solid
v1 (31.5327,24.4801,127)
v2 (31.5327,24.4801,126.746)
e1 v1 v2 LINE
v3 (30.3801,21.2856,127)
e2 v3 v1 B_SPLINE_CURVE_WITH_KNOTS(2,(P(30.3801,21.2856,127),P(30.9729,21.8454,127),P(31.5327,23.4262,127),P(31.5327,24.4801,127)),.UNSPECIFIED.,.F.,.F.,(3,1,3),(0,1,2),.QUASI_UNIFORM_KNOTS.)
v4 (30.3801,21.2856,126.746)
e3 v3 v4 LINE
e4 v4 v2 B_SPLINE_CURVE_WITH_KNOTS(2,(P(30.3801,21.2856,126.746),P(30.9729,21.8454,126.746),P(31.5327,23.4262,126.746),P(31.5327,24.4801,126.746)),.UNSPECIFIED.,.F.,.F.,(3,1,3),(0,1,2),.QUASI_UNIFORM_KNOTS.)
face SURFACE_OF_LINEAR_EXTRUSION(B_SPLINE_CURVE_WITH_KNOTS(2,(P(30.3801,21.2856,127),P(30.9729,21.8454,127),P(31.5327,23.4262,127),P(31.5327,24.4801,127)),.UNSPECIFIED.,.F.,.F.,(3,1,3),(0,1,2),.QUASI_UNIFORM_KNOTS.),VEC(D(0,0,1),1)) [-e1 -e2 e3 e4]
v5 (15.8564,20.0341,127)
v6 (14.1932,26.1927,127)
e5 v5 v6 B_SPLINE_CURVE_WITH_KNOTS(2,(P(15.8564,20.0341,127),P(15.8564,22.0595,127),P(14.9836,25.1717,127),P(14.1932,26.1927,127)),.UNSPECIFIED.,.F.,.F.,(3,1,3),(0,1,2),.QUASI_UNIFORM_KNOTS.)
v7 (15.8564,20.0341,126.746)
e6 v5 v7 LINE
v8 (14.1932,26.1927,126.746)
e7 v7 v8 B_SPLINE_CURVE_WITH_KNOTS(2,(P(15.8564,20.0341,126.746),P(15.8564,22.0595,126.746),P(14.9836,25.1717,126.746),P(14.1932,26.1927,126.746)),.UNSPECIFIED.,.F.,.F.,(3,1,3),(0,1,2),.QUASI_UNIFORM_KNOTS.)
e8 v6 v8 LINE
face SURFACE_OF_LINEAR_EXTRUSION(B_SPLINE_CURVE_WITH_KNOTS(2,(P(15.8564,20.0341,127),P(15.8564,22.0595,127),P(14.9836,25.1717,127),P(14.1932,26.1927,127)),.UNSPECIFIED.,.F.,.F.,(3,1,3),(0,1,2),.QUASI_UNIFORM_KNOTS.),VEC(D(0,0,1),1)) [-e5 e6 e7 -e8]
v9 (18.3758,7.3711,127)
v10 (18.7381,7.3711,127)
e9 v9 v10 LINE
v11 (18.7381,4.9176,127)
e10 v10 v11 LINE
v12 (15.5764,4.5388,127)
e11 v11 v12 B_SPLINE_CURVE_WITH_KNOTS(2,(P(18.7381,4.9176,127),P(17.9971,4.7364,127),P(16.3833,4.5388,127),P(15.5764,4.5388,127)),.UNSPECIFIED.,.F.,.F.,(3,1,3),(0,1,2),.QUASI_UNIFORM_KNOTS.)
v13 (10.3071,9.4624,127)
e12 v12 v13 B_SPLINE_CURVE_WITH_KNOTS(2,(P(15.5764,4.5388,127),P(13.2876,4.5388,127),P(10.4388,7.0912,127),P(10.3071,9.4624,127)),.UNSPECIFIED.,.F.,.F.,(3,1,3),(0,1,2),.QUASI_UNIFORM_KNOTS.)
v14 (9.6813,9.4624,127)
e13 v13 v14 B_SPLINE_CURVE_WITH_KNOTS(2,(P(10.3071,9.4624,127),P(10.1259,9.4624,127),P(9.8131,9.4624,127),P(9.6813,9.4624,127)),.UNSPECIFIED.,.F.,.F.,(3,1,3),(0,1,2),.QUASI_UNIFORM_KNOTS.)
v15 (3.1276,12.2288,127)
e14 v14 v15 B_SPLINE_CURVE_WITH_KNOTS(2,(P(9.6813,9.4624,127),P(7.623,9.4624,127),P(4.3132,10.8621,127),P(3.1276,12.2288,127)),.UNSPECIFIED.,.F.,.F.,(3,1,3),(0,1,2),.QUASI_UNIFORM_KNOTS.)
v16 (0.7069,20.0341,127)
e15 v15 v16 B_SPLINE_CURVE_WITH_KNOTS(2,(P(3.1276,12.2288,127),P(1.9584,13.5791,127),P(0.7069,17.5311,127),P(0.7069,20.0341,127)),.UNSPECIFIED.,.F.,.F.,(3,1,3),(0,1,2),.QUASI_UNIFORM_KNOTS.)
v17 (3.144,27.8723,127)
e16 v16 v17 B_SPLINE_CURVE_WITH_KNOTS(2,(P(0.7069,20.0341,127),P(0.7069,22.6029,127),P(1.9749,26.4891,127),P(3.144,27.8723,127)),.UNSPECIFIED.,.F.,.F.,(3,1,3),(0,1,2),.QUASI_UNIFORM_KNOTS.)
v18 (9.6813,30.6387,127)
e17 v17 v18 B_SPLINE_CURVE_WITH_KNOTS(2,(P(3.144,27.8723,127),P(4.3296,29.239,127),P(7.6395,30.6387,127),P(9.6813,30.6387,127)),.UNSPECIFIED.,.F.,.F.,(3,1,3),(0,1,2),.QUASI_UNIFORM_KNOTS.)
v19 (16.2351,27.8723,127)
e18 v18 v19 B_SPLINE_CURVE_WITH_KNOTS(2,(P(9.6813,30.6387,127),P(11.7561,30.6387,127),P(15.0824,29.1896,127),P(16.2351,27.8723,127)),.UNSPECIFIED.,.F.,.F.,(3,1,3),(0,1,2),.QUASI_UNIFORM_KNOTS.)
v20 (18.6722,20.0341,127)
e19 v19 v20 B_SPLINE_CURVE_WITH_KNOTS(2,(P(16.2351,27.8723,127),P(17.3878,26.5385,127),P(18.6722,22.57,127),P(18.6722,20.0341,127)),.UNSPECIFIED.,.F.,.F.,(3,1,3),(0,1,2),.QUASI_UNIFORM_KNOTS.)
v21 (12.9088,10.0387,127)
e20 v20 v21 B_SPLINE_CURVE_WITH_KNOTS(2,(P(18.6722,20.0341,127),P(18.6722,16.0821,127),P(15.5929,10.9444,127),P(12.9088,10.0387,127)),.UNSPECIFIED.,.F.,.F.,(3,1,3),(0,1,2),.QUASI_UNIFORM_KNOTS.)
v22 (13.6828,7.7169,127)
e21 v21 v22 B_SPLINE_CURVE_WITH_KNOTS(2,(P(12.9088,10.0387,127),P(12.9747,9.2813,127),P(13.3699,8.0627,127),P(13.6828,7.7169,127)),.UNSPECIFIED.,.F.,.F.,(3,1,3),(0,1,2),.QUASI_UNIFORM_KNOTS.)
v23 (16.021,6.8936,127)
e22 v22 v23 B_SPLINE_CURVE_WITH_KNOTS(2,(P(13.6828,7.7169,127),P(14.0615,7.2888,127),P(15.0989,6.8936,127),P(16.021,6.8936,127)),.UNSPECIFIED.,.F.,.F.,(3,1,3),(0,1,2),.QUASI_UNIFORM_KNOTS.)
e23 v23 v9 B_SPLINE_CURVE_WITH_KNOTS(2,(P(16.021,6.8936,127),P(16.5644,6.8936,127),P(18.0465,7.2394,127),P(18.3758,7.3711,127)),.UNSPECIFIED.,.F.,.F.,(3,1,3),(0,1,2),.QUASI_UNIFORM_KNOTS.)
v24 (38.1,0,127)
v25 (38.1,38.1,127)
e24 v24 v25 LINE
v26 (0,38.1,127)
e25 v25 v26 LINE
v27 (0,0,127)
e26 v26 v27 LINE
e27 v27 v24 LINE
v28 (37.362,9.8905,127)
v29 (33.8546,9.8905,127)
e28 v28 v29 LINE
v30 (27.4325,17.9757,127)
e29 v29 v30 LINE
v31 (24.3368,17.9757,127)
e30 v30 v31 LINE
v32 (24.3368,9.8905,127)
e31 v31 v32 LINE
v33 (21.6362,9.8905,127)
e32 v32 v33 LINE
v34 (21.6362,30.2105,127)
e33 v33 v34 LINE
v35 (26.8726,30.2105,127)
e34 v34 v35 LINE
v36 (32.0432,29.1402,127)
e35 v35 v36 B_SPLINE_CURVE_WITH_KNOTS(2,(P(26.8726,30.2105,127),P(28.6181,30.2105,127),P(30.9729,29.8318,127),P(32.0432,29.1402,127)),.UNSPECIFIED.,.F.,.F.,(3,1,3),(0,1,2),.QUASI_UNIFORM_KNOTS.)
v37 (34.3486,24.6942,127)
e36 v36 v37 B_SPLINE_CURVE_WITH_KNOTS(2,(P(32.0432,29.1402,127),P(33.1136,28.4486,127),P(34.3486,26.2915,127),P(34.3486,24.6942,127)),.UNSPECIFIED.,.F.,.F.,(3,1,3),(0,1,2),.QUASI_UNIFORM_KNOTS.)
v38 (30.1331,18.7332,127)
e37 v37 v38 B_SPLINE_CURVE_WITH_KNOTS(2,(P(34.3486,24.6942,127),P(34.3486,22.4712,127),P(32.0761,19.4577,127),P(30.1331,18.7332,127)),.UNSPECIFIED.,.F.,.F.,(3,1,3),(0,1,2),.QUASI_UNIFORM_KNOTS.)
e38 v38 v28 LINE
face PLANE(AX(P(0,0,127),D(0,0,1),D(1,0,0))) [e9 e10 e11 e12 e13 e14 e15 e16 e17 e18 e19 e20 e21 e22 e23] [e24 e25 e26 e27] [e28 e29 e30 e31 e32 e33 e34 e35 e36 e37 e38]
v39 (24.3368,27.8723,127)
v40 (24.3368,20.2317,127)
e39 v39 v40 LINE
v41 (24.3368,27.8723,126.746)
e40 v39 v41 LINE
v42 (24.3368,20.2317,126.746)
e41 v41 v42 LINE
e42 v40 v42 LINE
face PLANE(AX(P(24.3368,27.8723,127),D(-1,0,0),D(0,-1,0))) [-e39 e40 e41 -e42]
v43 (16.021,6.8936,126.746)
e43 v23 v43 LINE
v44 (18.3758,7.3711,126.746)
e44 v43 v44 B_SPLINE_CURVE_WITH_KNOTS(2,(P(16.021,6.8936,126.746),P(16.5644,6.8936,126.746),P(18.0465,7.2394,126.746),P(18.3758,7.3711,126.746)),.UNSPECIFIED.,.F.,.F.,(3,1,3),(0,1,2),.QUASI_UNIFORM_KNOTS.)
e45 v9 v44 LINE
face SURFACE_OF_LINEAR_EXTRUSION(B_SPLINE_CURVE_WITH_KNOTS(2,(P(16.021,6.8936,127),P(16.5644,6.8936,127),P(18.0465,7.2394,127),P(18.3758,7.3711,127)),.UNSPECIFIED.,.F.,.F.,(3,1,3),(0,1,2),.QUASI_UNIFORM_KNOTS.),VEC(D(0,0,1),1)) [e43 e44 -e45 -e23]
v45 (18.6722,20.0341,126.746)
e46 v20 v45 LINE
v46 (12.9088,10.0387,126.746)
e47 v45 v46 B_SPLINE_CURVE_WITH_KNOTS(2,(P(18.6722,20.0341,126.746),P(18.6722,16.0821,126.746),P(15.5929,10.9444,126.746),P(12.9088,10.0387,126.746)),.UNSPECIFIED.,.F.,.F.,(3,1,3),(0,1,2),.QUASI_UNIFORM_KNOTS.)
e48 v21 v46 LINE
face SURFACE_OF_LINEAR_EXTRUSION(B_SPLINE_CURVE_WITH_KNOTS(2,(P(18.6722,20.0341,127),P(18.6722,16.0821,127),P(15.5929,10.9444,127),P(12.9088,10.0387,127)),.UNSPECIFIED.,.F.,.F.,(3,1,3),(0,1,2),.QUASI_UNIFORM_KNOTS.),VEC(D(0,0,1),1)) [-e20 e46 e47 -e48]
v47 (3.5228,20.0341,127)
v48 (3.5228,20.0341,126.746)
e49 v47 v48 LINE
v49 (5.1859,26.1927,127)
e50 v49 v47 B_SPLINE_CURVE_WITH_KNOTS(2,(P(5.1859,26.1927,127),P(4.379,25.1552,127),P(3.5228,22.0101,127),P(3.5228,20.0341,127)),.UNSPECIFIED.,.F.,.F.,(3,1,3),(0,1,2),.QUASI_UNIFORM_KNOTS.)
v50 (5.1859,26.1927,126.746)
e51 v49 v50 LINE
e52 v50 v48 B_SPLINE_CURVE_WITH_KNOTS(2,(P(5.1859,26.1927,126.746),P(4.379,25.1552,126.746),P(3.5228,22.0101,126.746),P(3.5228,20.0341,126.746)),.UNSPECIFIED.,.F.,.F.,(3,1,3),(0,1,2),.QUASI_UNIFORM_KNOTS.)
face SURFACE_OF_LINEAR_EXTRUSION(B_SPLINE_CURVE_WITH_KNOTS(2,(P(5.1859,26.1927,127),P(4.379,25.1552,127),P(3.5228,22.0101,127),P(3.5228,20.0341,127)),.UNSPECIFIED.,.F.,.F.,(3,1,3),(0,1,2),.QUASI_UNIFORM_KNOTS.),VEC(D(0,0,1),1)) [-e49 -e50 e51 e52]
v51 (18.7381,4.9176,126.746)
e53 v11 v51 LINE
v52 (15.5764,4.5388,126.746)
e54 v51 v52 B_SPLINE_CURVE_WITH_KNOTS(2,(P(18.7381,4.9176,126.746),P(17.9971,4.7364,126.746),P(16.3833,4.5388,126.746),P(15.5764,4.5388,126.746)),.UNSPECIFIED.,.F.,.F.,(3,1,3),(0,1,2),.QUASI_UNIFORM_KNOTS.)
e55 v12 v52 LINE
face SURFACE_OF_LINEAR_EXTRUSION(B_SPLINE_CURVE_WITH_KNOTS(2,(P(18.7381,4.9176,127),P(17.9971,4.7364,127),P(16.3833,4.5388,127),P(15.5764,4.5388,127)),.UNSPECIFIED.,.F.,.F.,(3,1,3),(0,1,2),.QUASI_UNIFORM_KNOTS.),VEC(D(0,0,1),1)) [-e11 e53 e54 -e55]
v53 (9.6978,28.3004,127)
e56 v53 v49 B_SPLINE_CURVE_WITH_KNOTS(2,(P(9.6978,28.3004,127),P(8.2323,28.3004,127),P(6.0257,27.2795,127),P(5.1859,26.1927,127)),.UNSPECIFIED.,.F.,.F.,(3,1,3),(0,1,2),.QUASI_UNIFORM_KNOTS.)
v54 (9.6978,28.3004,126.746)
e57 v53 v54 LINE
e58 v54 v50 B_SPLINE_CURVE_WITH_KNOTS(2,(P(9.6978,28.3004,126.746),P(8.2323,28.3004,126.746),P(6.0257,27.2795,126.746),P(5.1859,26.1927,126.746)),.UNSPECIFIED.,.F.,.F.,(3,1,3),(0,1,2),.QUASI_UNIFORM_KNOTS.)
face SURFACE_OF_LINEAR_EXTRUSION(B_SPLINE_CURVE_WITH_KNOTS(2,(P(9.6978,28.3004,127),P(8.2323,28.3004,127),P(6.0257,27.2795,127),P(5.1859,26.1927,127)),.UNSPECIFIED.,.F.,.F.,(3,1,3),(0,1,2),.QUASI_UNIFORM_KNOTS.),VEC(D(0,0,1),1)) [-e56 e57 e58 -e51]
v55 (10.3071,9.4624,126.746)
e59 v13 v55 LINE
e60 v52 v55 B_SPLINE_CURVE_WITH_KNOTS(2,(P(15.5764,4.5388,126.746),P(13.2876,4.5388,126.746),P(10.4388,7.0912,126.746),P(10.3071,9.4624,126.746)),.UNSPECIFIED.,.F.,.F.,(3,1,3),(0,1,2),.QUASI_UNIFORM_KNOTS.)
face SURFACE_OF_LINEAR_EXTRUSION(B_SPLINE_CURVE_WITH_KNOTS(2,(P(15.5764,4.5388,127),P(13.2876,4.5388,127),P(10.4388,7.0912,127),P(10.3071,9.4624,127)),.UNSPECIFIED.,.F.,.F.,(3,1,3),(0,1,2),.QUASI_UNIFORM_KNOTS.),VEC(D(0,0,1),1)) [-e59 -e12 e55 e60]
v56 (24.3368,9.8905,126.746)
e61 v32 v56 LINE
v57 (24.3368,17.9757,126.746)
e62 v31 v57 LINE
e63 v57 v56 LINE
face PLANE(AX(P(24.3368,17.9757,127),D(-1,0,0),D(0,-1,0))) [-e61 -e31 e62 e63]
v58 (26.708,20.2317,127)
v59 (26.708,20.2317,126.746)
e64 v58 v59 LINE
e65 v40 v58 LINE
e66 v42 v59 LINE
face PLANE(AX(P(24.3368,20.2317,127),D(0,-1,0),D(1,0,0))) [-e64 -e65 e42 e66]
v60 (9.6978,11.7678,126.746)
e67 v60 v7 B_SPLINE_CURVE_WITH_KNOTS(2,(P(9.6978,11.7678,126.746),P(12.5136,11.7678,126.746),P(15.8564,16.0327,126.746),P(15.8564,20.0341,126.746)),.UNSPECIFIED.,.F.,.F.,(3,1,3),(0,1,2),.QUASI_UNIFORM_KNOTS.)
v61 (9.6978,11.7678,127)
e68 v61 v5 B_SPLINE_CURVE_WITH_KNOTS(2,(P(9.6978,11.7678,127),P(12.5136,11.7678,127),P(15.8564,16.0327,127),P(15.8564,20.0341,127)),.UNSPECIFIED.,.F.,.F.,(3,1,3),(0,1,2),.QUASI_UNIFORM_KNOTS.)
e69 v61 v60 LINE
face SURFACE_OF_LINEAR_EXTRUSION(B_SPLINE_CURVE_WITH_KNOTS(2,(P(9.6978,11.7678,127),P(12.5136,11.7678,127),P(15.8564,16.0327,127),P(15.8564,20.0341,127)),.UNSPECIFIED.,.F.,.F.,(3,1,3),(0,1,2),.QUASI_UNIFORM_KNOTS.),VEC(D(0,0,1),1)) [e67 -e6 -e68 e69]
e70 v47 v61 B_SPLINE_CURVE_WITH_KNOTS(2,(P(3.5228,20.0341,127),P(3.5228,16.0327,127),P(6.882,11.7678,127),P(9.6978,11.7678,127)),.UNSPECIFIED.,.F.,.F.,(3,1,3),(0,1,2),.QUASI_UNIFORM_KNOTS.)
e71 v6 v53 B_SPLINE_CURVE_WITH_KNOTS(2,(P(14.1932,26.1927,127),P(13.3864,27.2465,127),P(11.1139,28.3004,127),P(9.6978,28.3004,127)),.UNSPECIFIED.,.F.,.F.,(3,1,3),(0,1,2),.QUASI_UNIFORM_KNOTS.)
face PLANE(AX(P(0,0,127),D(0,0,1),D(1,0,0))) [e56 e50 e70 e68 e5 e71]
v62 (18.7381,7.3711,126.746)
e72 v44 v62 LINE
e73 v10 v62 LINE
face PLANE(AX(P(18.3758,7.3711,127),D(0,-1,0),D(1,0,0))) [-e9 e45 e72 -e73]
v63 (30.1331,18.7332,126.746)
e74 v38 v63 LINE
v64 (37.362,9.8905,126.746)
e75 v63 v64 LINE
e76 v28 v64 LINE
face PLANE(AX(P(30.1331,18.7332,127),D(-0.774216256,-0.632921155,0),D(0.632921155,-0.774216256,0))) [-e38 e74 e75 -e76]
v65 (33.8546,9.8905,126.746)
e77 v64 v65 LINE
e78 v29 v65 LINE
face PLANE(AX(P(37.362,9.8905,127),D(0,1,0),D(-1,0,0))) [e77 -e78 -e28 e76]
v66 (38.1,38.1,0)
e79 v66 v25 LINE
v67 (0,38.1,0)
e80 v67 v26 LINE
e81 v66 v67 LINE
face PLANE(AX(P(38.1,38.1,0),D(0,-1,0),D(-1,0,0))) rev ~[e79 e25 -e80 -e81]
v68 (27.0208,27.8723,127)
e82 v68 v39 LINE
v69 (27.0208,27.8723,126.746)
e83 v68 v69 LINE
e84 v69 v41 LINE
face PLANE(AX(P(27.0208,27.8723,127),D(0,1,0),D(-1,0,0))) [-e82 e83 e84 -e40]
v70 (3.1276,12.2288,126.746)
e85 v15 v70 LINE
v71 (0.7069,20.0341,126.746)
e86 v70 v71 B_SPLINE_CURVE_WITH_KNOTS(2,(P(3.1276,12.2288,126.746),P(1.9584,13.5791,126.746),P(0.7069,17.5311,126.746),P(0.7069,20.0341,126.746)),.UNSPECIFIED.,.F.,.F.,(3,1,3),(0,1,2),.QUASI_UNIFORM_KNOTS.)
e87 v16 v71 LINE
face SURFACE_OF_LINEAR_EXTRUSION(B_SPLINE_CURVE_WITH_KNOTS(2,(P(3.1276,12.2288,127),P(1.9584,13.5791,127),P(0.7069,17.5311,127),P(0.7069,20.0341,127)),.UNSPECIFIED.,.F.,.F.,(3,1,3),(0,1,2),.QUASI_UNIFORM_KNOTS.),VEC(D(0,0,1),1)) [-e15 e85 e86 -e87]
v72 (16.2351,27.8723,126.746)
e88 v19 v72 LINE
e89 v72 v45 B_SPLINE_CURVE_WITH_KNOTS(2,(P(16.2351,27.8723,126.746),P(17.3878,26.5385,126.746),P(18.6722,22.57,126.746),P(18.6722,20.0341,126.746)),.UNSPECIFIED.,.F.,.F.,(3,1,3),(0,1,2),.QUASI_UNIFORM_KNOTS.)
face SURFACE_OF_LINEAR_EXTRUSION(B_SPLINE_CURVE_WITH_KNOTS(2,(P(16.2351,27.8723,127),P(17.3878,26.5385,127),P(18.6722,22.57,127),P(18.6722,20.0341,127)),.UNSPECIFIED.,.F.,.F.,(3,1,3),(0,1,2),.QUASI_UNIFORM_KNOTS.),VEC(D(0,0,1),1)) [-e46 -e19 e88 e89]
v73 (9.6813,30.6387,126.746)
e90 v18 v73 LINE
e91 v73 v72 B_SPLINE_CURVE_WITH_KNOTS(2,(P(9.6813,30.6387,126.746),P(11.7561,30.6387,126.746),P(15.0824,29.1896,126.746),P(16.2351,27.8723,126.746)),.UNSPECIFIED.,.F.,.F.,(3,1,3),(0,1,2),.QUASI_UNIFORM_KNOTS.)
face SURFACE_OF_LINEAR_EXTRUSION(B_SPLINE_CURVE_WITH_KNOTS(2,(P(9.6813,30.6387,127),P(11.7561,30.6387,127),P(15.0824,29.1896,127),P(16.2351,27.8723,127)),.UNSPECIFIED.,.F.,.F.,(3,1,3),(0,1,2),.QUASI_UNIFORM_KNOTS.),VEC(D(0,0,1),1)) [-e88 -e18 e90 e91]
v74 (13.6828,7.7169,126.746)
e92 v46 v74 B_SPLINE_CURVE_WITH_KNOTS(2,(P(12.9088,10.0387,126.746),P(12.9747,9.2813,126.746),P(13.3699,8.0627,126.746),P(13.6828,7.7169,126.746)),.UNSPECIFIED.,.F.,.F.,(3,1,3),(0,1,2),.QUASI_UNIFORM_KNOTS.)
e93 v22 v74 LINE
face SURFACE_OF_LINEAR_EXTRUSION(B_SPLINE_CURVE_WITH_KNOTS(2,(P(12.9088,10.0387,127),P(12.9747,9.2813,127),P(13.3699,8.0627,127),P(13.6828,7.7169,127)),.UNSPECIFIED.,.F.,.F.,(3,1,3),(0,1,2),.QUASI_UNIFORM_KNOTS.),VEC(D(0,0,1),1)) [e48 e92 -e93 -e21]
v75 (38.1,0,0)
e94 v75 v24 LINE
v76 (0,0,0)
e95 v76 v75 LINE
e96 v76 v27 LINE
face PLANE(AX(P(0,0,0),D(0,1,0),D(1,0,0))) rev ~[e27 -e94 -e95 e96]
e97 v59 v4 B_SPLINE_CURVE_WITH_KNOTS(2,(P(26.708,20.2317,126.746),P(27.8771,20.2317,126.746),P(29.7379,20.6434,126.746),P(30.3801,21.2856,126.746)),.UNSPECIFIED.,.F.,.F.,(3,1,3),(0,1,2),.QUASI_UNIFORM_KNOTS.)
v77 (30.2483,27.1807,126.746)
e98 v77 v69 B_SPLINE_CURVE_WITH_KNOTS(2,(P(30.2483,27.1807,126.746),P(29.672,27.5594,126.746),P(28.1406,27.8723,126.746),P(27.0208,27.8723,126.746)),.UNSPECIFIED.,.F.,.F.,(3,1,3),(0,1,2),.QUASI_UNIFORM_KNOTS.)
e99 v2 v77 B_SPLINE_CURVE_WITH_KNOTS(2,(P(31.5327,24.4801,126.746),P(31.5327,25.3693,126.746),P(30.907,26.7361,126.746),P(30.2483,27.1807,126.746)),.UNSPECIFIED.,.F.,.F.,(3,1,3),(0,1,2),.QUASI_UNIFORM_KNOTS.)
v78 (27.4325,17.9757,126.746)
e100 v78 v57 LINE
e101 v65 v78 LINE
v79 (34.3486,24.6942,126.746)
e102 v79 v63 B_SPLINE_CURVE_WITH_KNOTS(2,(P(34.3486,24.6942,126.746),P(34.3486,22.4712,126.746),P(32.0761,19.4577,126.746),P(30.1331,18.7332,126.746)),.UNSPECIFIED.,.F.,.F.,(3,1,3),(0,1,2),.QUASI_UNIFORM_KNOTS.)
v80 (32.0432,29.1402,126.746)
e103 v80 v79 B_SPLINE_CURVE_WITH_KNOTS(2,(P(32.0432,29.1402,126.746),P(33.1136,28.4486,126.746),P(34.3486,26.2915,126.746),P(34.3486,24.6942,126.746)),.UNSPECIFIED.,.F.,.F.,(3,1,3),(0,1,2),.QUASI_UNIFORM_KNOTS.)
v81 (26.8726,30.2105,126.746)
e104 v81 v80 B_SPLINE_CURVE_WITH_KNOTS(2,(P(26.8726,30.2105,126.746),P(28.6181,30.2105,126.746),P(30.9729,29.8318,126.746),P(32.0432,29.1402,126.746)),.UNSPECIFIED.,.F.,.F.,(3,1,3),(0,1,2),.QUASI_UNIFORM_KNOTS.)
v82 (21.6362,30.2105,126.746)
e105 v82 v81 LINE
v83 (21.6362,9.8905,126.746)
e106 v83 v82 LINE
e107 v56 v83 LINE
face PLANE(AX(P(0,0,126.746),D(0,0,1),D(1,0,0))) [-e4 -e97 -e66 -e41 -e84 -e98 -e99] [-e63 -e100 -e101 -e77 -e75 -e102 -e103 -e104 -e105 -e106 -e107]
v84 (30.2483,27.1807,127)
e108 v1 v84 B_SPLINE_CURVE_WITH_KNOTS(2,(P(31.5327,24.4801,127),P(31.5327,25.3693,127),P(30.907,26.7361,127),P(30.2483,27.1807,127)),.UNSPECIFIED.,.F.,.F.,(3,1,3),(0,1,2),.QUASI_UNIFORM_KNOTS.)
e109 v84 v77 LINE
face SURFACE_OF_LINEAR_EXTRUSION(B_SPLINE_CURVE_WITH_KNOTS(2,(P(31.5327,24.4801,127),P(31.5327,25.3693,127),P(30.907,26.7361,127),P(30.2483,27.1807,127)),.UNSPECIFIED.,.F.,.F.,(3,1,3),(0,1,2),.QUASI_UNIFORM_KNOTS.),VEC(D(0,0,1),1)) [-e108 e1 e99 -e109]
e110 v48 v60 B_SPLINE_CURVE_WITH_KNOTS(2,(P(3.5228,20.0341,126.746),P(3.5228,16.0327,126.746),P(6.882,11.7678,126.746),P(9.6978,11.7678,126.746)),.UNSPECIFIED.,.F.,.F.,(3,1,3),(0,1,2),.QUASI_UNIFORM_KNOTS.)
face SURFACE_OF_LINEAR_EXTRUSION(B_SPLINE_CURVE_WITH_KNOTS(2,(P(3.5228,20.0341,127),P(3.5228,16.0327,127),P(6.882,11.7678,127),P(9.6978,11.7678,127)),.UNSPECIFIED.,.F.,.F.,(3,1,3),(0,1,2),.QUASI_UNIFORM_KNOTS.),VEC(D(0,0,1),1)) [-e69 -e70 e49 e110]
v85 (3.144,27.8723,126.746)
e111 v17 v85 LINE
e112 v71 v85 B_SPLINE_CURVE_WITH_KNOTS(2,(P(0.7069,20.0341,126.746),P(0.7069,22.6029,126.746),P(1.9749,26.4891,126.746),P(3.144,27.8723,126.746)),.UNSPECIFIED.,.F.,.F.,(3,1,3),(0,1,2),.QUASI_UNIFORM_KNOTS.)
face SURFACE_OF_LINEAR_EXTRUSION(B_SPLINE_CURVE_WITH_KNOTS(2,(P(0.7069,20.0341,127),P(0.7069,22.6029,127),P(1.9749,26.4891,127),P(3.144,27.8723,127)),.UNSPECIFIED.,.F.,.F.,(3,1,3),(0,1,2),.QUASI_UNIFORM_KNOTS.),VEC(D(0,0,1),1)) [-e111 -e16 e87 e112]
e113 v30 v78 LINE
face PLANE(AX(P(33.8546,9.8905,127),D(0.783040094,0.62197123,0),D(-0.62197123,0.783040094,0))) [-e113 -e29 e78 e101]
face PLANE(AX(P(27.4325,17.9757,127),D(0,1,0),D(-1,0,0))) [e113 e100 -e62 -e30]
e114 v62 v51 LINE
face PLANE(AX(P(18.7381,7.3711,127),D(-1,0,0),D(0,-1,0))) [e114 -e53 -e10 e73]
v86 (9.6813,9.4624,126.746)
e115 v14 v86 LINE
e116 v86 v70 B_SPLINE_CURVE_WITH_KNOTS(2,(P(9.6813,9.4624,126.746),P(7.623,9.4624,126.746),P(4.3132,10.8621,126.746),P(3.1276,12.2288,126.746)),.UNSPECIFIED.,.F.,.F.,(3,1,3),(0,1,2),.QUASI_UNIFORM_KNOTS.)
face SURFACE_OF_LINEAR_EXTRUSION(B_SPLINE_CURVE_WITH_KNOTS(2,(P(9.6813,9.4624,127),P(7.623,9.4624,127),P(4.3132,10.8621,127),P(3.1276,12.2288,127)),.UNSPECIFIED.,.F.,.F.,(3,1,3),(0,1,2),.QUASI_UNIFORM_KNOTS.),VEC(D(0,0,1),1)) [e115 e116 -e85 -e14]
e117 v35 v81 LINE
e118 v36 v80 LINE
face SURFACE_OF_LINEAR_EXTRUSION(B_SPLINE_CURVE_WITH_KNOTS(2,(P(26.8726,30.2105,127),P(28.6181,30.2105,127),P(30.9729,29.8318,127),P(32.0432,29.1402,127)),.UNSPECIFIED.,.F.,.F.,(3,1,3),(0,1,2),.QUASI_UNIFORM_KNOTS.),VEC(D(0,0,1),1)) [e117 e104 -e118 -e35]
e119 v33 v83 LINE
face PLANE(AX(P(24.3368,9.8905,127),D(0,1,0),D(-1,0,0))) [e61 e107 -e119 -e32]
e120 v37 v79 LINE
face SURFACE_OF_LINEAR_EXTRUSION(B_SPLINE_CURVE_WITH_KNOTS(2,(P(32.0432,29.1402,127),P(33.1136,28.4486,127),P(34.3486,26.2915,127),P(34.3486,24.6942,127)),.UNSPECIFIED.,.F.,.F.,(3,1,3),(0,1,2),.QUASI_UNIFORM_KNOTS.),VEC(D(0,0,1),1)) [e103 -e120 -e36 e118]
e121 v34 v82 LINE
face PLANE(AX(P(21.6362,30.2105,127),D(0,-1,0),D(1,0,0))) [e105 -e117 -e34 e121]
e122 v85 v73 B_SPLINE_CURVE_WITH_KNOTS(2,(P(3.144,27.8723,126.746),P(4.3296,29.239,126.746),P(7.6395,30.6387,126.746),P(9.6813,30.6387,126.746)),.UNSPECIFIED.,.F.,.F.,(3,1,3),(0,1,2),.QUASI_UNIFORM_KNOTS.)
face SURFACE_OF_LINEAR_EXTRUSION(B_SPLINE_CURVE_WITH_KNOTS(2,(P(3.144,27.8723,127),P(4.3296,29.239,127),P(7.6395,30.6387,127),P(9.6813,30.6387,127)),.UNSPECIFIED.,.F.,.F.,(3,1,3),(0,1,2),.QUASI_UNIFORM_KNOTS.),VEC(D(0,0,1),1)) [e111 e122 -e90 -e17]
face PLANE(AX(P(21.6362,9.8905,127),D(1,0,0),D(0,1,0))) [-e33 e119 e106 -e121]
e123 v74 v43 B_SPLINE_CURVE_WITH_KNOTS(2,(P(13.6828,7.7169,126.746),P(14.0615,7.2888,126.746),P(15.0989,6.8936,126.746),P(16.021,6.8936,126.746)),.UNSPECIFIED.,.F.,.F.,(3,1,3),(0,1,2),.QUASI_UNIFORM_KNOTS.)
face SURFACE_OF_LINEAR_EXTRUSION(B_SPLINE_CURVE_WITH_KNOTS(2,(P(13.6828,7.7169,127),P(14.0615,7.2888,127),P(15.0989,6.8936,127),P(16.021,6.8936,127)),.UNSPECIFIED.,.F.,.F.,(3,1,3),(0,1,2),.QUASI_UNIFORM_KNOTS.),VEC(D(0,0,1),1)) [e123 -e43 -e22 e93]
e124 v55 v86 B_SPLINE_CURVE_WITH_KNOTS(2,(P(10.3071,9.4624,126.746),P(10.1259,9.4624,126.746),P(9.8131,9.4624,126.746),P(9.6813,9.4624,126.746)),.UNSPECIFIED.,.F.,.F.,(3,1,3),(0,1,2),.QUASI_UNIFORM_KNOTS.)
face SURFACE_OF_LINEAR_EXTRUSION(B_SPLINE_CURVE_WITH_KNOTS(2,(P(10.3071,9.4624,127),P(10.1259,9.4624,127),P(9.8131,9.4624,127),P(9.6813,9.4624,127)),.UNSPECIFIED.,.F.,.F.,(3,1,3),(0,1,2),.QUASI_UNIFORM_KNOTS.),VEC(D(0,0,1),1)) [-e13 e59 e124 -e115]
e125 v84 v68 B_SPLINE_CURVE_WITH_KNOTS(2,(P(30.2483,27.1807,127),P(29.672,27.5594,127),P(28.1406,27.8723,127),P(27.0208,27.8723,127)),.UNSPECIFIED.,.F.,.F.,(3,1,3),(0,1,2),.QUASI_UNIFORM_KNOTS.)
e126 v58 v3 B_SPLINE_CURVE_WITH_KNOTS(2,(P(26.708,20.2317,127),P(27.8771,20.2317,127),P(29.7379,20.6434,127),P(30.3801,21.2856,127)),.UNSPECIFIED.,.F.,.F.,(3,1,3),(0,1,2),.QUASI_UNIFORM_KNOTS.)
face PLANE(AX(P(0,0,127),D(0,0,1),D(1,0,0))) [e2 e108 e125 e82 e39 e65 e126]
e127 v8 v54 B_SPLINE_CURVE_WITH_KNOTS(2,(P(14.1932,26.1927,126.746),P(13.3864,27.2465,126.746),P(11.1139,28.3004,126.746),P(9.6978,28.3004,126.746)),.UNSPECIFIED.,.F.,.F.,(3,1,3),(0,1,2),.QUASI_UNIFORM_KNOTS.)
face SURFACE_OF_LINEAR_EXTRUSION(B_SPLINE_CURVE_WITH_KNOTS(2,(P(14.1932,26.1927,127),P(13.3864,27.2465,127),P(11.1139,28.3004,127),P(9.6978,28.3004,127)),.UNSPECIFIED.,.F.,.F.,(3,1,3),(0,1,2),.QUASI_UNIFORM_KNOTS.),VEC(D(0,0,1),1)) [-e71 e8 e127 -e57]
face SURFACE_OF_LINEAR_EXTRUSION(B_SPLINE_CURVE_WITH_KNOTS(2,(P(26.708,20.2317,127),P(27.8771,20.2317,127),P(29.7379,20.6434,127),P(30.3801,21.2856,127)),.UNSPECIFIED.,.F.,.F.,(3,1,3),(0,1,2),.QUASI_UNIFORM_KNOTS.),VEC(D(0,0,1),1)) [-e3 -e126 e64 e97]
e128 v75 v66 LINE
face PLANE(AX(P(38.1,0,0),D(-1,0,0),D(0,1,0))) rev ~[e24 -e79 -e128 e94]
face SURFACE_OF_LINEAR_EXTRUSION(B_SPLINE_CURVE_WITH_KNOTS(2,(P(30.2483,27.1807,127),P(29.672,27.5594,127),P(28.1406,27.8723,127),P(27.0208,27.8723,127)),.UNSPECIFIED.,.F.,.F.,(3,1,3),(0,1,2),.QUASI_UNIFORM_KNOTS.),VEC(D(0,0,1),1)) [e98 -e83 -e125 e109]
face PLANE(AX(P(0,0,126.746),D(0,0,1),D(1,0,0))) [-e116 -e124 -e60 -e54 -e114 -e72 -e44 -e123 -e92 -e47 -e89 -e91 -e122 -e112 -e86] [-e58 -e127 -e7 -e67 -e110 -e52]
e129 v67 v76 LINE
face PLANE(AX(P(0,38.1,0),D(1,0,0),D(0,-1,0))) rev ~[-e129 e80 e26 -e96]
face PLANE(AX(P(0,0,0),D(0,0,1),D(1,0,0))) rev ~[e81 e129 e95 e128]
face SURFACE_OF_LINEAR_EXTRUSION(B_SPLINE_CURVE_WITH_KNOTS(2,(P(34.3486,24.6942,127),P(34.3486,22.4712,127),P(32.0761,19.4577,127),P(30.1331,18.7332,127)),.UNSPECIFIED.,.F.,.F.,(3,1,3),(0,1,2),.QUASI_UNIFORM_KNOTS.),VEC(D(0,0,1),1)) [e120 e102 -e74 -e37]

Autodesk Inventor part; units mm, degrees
ref_plane "YZ Plane" through (0, 0, 0) normal (1, 0, 0) x (0, 1, 0)
ref_plane "XZ Plane" through (0, 0, 0) normal (0, 1, 0) x (-1, 0, 0)
ref_plane "XY Plane" through (0, 0, 0) normal (0, 0, 1) x (1, 0, 0)
sketch "Sketch1" plane through (0, 0, 0) normal (0, 0, 1) x (1, 0, 0)
  line L0 (0, 0) -> (38.1, 0)
  line L1 (38.1, 0) -> (38.1, 38.1)
  line L2 (38.1, 38.1) -> (0, 38.1)
  line L3 (0, 38.1) -> (0, 0)
  dimension "d0" = 38.1
  dimension "d1" = 38.1
extrude "Extrusion1" add sketch "Sketch1" along normal blind 127
sketch "Sketch2" plane through (0, 0, 127) normal (0, 0, 1) x (1, 0, 0)
  line L0 (-0.1987, 30.6387) -> (46.1964, 30.6387) construction
  line L1 (46.1964, 30.6387) -> (46.1964, -1.9861) construction
  line L2 (46.1964, -1.9861) -> (-0.1987, -1.9861) construction
  line L3 (-0.1987, -1.9861) -> (-0.1987, 30.6387) construction
  spline S0 degree 2 poles (18.7381, 4.9176) (17.9971, 4.7364) (16.3833, 4.5388) (15.5764, 4.5388) knots 0 0 0 1 2 2 2
  spline S1 degree 2 poles (15.5764, 4.5388) (13.2876, 4.5388) (10.4388, 7.0912) (10.3071, 9.4624) knots 0 0 0 1 2 2 2
  spline S2 degree 2 poles (10.3071, 9.4624) (10.1259, 9.4624) (9.8131, 9.4624) (9.6813, 9.4624) knots 0 0 0 1 2 2 2
  spline S3 degree 2 poles (9.6813, 9.4624) (7.623, 9.4624) (4.3132, 10.8621) (3.1276, 12.2288) knots 0 0 0 1 2 2 2
  spline S4 degree 2 poles (3.1276, 12.2288) (1.9584, 13.5791) (0.7069, 17.5311) (0.7069, 20.0341) knots 0 0 0 1 2 2 2
  spline S5 degree 2 poles (0.7069, 20.0341) (0.7069, 22.6029) (1.9749, 26.4891) (3.144, 27.8723) knots 0 0 0 1 2 2 2
  spline S6 degree 2 poles (3.144, 27.8723) (4.3296, 29.239) (7.6395, 30.6387) (9.6813, 30.6387) knots 0 0 0 1 2 2 2
  spline S7 degree 2 poles (9.6813, 30.6387) (11.7561, 30.6387) (15.0824, 29.1896) (16.2351, 27.8723) knots 0 0 0 1 2 2 2
  spline S8 degree 2 poles (16.2351, 27.8723) (17.3878, 26.5385) (18.6722, 22.57) (18.6722, 20.0341) knots 0 0 0 1 2 2 2
  spline S9 degree 2 poles (18.6722, 20.0341) (18.6722, 16.0821) (15.5929, 10.9444) (12.9088, 10.0387) knots 0 0 0 1 2 2 2
  spline S10 degree 2 poles (12.9088, 10.0387) (12.9747, 9.2813) (13.3699, 8.0627) (13.6828, 7.7169) knots 0 0 0 1 2 2 2
  spline S11 degree 2 poles (13.6828, 7.7169) (14.0615, 7.2888) (15.0989, 6.8936) (16.021, 6.8936) knots 0 0 0 1 2 2 2
  spline S12 degree 2 poles (16.021, 6.8936) (16.5644, 6.8936) (18.0465, 7.2394) (18.3758, 7.3711) knots 0 0 0 1 2 2 2
  line L4 (18.3758, 7.3711) -> (18.7381, 7.3711)
  line L5 (18.7381, 7.3711) -> (18.7381, 4.9176)
  spline S13 degree 2 poles (15.8564, 20.0341) (15.8564, 22.0595) (14.9836, 25.1717) (14.1932, 26.1927) knots 0 0 0 1 2 2 2
  spline S14 degree 2 poles (14.1932, 26.1927) (13.3864, 27.2465) (11.1139, 28.3004) (9.6978, 28.3004) knots 0 0 0 1 2 2 2
  spline S15 degree 2 poles (9.6978, 28.3004) (8.2323, 28.3004) (6.0257, 27.2795) (5.1859, 26.1927) knots 0 0 0 1 2 2 2
  spline S16 degree 2 poles (5.1859, 26.1927) (4.379, 25.1552) (3.5228, 22.0101) (3.5228, 20.0341) knots 0 0 0 1 2 2 2
  spline S17 degree 2 poles (3.5228, 20.0341) (3.5228, 16.0327) (6.882, 11.7678) (9.6978, 11.7678) knots 0 0 0 1 2 2 2
  spline S18 degree 2 poles (9.6978, 11.7678) (12.5136, 11.7678) (15.8564, 16.0327) (15.8564, 20.0341) knots 0 0 0 1 2 2 2
  line L6 (37.362, 9.8905) -> (33.8546, 9.8905)
  line L7 (33.8546, 9.8905) -> (27.4325, 17.9757)
  line L8 (27.4325, 17.9757) -> (24.3368, 17.9757)
  line L9 (24.3368, 17.9757) -> (24.3368, 9.8905)
  line L10 (24.3368, 9.8905) -> (21.6362, 9.8905)
  line L11 (21.6362, 9.8905) -> (21.6362, 30.2105)
  line L12 (21.6362, 30.2105) -> (26.8726, 30.2105)
  spline S19 degree 2 poles (26.8726, 30.2105) (28.6181, 30.2105) (30.9729, 29.8318) (32.0432, 29.1402) knots 0 0 0 1 2 2 2
  spline S20 degree 2 poles (32.0432, 29.1402) (33.1136, 28.4486) (34.3486, 26.2915) (34.3486, 24.6942) knots 0 0 0 1 2 2 2
  spline S21 degree 2 poles (34.3486, 24.6942) (34.3486, 22.4712) (32.0761, 19.4577) (30.1331, 18.7332) knots 0 0 0 1 2 2 2
  line L13 (30.1331, 18.7332) -> (37.362, 9.8905)
  spline S22 degree 2 poles (31.5327, 24.4801) (31.5327, 25.3693) (30.907, 26.7361) (30.2483, 27.1807) knots 0 0 0 1 2 2 2
  spline S23 degree 2 poles (30.2483, 27.1807) (29.672, 27.5594) (28.1406, 27.8723) (27.0208, 27.8723) knots 0 0 0 1 2 2 2
  line L14 (27.0208, 27.8723) -> (24.3368, 27.8723)
  line L15 (24.3368, 27.8723) -> (24.3368, 20.2317)
  line L16 (24.3368, 20.2317) -> (26.708, 20.2317)
  spline S24 degree 2 poles (26.708, 20.2317) (27.8771, 20.2317) (29.7379, 20.6434) (30.3801, 21.2856) knots 0 0 0 1 2 2 2
  spline S25 degree 2 poles (30.3801, 21.2856) (30.9729, 21.8454) (31.5327, 23.4262) (31.5327, 24.4801) knots 0 0 0 1 2 2 2
  point P0 (0, 0)
extrude "Extrusion3" cut sketch "Sketch2" against normal blind 0.254
properties part number "Container 2 2 5 colored color 1"
